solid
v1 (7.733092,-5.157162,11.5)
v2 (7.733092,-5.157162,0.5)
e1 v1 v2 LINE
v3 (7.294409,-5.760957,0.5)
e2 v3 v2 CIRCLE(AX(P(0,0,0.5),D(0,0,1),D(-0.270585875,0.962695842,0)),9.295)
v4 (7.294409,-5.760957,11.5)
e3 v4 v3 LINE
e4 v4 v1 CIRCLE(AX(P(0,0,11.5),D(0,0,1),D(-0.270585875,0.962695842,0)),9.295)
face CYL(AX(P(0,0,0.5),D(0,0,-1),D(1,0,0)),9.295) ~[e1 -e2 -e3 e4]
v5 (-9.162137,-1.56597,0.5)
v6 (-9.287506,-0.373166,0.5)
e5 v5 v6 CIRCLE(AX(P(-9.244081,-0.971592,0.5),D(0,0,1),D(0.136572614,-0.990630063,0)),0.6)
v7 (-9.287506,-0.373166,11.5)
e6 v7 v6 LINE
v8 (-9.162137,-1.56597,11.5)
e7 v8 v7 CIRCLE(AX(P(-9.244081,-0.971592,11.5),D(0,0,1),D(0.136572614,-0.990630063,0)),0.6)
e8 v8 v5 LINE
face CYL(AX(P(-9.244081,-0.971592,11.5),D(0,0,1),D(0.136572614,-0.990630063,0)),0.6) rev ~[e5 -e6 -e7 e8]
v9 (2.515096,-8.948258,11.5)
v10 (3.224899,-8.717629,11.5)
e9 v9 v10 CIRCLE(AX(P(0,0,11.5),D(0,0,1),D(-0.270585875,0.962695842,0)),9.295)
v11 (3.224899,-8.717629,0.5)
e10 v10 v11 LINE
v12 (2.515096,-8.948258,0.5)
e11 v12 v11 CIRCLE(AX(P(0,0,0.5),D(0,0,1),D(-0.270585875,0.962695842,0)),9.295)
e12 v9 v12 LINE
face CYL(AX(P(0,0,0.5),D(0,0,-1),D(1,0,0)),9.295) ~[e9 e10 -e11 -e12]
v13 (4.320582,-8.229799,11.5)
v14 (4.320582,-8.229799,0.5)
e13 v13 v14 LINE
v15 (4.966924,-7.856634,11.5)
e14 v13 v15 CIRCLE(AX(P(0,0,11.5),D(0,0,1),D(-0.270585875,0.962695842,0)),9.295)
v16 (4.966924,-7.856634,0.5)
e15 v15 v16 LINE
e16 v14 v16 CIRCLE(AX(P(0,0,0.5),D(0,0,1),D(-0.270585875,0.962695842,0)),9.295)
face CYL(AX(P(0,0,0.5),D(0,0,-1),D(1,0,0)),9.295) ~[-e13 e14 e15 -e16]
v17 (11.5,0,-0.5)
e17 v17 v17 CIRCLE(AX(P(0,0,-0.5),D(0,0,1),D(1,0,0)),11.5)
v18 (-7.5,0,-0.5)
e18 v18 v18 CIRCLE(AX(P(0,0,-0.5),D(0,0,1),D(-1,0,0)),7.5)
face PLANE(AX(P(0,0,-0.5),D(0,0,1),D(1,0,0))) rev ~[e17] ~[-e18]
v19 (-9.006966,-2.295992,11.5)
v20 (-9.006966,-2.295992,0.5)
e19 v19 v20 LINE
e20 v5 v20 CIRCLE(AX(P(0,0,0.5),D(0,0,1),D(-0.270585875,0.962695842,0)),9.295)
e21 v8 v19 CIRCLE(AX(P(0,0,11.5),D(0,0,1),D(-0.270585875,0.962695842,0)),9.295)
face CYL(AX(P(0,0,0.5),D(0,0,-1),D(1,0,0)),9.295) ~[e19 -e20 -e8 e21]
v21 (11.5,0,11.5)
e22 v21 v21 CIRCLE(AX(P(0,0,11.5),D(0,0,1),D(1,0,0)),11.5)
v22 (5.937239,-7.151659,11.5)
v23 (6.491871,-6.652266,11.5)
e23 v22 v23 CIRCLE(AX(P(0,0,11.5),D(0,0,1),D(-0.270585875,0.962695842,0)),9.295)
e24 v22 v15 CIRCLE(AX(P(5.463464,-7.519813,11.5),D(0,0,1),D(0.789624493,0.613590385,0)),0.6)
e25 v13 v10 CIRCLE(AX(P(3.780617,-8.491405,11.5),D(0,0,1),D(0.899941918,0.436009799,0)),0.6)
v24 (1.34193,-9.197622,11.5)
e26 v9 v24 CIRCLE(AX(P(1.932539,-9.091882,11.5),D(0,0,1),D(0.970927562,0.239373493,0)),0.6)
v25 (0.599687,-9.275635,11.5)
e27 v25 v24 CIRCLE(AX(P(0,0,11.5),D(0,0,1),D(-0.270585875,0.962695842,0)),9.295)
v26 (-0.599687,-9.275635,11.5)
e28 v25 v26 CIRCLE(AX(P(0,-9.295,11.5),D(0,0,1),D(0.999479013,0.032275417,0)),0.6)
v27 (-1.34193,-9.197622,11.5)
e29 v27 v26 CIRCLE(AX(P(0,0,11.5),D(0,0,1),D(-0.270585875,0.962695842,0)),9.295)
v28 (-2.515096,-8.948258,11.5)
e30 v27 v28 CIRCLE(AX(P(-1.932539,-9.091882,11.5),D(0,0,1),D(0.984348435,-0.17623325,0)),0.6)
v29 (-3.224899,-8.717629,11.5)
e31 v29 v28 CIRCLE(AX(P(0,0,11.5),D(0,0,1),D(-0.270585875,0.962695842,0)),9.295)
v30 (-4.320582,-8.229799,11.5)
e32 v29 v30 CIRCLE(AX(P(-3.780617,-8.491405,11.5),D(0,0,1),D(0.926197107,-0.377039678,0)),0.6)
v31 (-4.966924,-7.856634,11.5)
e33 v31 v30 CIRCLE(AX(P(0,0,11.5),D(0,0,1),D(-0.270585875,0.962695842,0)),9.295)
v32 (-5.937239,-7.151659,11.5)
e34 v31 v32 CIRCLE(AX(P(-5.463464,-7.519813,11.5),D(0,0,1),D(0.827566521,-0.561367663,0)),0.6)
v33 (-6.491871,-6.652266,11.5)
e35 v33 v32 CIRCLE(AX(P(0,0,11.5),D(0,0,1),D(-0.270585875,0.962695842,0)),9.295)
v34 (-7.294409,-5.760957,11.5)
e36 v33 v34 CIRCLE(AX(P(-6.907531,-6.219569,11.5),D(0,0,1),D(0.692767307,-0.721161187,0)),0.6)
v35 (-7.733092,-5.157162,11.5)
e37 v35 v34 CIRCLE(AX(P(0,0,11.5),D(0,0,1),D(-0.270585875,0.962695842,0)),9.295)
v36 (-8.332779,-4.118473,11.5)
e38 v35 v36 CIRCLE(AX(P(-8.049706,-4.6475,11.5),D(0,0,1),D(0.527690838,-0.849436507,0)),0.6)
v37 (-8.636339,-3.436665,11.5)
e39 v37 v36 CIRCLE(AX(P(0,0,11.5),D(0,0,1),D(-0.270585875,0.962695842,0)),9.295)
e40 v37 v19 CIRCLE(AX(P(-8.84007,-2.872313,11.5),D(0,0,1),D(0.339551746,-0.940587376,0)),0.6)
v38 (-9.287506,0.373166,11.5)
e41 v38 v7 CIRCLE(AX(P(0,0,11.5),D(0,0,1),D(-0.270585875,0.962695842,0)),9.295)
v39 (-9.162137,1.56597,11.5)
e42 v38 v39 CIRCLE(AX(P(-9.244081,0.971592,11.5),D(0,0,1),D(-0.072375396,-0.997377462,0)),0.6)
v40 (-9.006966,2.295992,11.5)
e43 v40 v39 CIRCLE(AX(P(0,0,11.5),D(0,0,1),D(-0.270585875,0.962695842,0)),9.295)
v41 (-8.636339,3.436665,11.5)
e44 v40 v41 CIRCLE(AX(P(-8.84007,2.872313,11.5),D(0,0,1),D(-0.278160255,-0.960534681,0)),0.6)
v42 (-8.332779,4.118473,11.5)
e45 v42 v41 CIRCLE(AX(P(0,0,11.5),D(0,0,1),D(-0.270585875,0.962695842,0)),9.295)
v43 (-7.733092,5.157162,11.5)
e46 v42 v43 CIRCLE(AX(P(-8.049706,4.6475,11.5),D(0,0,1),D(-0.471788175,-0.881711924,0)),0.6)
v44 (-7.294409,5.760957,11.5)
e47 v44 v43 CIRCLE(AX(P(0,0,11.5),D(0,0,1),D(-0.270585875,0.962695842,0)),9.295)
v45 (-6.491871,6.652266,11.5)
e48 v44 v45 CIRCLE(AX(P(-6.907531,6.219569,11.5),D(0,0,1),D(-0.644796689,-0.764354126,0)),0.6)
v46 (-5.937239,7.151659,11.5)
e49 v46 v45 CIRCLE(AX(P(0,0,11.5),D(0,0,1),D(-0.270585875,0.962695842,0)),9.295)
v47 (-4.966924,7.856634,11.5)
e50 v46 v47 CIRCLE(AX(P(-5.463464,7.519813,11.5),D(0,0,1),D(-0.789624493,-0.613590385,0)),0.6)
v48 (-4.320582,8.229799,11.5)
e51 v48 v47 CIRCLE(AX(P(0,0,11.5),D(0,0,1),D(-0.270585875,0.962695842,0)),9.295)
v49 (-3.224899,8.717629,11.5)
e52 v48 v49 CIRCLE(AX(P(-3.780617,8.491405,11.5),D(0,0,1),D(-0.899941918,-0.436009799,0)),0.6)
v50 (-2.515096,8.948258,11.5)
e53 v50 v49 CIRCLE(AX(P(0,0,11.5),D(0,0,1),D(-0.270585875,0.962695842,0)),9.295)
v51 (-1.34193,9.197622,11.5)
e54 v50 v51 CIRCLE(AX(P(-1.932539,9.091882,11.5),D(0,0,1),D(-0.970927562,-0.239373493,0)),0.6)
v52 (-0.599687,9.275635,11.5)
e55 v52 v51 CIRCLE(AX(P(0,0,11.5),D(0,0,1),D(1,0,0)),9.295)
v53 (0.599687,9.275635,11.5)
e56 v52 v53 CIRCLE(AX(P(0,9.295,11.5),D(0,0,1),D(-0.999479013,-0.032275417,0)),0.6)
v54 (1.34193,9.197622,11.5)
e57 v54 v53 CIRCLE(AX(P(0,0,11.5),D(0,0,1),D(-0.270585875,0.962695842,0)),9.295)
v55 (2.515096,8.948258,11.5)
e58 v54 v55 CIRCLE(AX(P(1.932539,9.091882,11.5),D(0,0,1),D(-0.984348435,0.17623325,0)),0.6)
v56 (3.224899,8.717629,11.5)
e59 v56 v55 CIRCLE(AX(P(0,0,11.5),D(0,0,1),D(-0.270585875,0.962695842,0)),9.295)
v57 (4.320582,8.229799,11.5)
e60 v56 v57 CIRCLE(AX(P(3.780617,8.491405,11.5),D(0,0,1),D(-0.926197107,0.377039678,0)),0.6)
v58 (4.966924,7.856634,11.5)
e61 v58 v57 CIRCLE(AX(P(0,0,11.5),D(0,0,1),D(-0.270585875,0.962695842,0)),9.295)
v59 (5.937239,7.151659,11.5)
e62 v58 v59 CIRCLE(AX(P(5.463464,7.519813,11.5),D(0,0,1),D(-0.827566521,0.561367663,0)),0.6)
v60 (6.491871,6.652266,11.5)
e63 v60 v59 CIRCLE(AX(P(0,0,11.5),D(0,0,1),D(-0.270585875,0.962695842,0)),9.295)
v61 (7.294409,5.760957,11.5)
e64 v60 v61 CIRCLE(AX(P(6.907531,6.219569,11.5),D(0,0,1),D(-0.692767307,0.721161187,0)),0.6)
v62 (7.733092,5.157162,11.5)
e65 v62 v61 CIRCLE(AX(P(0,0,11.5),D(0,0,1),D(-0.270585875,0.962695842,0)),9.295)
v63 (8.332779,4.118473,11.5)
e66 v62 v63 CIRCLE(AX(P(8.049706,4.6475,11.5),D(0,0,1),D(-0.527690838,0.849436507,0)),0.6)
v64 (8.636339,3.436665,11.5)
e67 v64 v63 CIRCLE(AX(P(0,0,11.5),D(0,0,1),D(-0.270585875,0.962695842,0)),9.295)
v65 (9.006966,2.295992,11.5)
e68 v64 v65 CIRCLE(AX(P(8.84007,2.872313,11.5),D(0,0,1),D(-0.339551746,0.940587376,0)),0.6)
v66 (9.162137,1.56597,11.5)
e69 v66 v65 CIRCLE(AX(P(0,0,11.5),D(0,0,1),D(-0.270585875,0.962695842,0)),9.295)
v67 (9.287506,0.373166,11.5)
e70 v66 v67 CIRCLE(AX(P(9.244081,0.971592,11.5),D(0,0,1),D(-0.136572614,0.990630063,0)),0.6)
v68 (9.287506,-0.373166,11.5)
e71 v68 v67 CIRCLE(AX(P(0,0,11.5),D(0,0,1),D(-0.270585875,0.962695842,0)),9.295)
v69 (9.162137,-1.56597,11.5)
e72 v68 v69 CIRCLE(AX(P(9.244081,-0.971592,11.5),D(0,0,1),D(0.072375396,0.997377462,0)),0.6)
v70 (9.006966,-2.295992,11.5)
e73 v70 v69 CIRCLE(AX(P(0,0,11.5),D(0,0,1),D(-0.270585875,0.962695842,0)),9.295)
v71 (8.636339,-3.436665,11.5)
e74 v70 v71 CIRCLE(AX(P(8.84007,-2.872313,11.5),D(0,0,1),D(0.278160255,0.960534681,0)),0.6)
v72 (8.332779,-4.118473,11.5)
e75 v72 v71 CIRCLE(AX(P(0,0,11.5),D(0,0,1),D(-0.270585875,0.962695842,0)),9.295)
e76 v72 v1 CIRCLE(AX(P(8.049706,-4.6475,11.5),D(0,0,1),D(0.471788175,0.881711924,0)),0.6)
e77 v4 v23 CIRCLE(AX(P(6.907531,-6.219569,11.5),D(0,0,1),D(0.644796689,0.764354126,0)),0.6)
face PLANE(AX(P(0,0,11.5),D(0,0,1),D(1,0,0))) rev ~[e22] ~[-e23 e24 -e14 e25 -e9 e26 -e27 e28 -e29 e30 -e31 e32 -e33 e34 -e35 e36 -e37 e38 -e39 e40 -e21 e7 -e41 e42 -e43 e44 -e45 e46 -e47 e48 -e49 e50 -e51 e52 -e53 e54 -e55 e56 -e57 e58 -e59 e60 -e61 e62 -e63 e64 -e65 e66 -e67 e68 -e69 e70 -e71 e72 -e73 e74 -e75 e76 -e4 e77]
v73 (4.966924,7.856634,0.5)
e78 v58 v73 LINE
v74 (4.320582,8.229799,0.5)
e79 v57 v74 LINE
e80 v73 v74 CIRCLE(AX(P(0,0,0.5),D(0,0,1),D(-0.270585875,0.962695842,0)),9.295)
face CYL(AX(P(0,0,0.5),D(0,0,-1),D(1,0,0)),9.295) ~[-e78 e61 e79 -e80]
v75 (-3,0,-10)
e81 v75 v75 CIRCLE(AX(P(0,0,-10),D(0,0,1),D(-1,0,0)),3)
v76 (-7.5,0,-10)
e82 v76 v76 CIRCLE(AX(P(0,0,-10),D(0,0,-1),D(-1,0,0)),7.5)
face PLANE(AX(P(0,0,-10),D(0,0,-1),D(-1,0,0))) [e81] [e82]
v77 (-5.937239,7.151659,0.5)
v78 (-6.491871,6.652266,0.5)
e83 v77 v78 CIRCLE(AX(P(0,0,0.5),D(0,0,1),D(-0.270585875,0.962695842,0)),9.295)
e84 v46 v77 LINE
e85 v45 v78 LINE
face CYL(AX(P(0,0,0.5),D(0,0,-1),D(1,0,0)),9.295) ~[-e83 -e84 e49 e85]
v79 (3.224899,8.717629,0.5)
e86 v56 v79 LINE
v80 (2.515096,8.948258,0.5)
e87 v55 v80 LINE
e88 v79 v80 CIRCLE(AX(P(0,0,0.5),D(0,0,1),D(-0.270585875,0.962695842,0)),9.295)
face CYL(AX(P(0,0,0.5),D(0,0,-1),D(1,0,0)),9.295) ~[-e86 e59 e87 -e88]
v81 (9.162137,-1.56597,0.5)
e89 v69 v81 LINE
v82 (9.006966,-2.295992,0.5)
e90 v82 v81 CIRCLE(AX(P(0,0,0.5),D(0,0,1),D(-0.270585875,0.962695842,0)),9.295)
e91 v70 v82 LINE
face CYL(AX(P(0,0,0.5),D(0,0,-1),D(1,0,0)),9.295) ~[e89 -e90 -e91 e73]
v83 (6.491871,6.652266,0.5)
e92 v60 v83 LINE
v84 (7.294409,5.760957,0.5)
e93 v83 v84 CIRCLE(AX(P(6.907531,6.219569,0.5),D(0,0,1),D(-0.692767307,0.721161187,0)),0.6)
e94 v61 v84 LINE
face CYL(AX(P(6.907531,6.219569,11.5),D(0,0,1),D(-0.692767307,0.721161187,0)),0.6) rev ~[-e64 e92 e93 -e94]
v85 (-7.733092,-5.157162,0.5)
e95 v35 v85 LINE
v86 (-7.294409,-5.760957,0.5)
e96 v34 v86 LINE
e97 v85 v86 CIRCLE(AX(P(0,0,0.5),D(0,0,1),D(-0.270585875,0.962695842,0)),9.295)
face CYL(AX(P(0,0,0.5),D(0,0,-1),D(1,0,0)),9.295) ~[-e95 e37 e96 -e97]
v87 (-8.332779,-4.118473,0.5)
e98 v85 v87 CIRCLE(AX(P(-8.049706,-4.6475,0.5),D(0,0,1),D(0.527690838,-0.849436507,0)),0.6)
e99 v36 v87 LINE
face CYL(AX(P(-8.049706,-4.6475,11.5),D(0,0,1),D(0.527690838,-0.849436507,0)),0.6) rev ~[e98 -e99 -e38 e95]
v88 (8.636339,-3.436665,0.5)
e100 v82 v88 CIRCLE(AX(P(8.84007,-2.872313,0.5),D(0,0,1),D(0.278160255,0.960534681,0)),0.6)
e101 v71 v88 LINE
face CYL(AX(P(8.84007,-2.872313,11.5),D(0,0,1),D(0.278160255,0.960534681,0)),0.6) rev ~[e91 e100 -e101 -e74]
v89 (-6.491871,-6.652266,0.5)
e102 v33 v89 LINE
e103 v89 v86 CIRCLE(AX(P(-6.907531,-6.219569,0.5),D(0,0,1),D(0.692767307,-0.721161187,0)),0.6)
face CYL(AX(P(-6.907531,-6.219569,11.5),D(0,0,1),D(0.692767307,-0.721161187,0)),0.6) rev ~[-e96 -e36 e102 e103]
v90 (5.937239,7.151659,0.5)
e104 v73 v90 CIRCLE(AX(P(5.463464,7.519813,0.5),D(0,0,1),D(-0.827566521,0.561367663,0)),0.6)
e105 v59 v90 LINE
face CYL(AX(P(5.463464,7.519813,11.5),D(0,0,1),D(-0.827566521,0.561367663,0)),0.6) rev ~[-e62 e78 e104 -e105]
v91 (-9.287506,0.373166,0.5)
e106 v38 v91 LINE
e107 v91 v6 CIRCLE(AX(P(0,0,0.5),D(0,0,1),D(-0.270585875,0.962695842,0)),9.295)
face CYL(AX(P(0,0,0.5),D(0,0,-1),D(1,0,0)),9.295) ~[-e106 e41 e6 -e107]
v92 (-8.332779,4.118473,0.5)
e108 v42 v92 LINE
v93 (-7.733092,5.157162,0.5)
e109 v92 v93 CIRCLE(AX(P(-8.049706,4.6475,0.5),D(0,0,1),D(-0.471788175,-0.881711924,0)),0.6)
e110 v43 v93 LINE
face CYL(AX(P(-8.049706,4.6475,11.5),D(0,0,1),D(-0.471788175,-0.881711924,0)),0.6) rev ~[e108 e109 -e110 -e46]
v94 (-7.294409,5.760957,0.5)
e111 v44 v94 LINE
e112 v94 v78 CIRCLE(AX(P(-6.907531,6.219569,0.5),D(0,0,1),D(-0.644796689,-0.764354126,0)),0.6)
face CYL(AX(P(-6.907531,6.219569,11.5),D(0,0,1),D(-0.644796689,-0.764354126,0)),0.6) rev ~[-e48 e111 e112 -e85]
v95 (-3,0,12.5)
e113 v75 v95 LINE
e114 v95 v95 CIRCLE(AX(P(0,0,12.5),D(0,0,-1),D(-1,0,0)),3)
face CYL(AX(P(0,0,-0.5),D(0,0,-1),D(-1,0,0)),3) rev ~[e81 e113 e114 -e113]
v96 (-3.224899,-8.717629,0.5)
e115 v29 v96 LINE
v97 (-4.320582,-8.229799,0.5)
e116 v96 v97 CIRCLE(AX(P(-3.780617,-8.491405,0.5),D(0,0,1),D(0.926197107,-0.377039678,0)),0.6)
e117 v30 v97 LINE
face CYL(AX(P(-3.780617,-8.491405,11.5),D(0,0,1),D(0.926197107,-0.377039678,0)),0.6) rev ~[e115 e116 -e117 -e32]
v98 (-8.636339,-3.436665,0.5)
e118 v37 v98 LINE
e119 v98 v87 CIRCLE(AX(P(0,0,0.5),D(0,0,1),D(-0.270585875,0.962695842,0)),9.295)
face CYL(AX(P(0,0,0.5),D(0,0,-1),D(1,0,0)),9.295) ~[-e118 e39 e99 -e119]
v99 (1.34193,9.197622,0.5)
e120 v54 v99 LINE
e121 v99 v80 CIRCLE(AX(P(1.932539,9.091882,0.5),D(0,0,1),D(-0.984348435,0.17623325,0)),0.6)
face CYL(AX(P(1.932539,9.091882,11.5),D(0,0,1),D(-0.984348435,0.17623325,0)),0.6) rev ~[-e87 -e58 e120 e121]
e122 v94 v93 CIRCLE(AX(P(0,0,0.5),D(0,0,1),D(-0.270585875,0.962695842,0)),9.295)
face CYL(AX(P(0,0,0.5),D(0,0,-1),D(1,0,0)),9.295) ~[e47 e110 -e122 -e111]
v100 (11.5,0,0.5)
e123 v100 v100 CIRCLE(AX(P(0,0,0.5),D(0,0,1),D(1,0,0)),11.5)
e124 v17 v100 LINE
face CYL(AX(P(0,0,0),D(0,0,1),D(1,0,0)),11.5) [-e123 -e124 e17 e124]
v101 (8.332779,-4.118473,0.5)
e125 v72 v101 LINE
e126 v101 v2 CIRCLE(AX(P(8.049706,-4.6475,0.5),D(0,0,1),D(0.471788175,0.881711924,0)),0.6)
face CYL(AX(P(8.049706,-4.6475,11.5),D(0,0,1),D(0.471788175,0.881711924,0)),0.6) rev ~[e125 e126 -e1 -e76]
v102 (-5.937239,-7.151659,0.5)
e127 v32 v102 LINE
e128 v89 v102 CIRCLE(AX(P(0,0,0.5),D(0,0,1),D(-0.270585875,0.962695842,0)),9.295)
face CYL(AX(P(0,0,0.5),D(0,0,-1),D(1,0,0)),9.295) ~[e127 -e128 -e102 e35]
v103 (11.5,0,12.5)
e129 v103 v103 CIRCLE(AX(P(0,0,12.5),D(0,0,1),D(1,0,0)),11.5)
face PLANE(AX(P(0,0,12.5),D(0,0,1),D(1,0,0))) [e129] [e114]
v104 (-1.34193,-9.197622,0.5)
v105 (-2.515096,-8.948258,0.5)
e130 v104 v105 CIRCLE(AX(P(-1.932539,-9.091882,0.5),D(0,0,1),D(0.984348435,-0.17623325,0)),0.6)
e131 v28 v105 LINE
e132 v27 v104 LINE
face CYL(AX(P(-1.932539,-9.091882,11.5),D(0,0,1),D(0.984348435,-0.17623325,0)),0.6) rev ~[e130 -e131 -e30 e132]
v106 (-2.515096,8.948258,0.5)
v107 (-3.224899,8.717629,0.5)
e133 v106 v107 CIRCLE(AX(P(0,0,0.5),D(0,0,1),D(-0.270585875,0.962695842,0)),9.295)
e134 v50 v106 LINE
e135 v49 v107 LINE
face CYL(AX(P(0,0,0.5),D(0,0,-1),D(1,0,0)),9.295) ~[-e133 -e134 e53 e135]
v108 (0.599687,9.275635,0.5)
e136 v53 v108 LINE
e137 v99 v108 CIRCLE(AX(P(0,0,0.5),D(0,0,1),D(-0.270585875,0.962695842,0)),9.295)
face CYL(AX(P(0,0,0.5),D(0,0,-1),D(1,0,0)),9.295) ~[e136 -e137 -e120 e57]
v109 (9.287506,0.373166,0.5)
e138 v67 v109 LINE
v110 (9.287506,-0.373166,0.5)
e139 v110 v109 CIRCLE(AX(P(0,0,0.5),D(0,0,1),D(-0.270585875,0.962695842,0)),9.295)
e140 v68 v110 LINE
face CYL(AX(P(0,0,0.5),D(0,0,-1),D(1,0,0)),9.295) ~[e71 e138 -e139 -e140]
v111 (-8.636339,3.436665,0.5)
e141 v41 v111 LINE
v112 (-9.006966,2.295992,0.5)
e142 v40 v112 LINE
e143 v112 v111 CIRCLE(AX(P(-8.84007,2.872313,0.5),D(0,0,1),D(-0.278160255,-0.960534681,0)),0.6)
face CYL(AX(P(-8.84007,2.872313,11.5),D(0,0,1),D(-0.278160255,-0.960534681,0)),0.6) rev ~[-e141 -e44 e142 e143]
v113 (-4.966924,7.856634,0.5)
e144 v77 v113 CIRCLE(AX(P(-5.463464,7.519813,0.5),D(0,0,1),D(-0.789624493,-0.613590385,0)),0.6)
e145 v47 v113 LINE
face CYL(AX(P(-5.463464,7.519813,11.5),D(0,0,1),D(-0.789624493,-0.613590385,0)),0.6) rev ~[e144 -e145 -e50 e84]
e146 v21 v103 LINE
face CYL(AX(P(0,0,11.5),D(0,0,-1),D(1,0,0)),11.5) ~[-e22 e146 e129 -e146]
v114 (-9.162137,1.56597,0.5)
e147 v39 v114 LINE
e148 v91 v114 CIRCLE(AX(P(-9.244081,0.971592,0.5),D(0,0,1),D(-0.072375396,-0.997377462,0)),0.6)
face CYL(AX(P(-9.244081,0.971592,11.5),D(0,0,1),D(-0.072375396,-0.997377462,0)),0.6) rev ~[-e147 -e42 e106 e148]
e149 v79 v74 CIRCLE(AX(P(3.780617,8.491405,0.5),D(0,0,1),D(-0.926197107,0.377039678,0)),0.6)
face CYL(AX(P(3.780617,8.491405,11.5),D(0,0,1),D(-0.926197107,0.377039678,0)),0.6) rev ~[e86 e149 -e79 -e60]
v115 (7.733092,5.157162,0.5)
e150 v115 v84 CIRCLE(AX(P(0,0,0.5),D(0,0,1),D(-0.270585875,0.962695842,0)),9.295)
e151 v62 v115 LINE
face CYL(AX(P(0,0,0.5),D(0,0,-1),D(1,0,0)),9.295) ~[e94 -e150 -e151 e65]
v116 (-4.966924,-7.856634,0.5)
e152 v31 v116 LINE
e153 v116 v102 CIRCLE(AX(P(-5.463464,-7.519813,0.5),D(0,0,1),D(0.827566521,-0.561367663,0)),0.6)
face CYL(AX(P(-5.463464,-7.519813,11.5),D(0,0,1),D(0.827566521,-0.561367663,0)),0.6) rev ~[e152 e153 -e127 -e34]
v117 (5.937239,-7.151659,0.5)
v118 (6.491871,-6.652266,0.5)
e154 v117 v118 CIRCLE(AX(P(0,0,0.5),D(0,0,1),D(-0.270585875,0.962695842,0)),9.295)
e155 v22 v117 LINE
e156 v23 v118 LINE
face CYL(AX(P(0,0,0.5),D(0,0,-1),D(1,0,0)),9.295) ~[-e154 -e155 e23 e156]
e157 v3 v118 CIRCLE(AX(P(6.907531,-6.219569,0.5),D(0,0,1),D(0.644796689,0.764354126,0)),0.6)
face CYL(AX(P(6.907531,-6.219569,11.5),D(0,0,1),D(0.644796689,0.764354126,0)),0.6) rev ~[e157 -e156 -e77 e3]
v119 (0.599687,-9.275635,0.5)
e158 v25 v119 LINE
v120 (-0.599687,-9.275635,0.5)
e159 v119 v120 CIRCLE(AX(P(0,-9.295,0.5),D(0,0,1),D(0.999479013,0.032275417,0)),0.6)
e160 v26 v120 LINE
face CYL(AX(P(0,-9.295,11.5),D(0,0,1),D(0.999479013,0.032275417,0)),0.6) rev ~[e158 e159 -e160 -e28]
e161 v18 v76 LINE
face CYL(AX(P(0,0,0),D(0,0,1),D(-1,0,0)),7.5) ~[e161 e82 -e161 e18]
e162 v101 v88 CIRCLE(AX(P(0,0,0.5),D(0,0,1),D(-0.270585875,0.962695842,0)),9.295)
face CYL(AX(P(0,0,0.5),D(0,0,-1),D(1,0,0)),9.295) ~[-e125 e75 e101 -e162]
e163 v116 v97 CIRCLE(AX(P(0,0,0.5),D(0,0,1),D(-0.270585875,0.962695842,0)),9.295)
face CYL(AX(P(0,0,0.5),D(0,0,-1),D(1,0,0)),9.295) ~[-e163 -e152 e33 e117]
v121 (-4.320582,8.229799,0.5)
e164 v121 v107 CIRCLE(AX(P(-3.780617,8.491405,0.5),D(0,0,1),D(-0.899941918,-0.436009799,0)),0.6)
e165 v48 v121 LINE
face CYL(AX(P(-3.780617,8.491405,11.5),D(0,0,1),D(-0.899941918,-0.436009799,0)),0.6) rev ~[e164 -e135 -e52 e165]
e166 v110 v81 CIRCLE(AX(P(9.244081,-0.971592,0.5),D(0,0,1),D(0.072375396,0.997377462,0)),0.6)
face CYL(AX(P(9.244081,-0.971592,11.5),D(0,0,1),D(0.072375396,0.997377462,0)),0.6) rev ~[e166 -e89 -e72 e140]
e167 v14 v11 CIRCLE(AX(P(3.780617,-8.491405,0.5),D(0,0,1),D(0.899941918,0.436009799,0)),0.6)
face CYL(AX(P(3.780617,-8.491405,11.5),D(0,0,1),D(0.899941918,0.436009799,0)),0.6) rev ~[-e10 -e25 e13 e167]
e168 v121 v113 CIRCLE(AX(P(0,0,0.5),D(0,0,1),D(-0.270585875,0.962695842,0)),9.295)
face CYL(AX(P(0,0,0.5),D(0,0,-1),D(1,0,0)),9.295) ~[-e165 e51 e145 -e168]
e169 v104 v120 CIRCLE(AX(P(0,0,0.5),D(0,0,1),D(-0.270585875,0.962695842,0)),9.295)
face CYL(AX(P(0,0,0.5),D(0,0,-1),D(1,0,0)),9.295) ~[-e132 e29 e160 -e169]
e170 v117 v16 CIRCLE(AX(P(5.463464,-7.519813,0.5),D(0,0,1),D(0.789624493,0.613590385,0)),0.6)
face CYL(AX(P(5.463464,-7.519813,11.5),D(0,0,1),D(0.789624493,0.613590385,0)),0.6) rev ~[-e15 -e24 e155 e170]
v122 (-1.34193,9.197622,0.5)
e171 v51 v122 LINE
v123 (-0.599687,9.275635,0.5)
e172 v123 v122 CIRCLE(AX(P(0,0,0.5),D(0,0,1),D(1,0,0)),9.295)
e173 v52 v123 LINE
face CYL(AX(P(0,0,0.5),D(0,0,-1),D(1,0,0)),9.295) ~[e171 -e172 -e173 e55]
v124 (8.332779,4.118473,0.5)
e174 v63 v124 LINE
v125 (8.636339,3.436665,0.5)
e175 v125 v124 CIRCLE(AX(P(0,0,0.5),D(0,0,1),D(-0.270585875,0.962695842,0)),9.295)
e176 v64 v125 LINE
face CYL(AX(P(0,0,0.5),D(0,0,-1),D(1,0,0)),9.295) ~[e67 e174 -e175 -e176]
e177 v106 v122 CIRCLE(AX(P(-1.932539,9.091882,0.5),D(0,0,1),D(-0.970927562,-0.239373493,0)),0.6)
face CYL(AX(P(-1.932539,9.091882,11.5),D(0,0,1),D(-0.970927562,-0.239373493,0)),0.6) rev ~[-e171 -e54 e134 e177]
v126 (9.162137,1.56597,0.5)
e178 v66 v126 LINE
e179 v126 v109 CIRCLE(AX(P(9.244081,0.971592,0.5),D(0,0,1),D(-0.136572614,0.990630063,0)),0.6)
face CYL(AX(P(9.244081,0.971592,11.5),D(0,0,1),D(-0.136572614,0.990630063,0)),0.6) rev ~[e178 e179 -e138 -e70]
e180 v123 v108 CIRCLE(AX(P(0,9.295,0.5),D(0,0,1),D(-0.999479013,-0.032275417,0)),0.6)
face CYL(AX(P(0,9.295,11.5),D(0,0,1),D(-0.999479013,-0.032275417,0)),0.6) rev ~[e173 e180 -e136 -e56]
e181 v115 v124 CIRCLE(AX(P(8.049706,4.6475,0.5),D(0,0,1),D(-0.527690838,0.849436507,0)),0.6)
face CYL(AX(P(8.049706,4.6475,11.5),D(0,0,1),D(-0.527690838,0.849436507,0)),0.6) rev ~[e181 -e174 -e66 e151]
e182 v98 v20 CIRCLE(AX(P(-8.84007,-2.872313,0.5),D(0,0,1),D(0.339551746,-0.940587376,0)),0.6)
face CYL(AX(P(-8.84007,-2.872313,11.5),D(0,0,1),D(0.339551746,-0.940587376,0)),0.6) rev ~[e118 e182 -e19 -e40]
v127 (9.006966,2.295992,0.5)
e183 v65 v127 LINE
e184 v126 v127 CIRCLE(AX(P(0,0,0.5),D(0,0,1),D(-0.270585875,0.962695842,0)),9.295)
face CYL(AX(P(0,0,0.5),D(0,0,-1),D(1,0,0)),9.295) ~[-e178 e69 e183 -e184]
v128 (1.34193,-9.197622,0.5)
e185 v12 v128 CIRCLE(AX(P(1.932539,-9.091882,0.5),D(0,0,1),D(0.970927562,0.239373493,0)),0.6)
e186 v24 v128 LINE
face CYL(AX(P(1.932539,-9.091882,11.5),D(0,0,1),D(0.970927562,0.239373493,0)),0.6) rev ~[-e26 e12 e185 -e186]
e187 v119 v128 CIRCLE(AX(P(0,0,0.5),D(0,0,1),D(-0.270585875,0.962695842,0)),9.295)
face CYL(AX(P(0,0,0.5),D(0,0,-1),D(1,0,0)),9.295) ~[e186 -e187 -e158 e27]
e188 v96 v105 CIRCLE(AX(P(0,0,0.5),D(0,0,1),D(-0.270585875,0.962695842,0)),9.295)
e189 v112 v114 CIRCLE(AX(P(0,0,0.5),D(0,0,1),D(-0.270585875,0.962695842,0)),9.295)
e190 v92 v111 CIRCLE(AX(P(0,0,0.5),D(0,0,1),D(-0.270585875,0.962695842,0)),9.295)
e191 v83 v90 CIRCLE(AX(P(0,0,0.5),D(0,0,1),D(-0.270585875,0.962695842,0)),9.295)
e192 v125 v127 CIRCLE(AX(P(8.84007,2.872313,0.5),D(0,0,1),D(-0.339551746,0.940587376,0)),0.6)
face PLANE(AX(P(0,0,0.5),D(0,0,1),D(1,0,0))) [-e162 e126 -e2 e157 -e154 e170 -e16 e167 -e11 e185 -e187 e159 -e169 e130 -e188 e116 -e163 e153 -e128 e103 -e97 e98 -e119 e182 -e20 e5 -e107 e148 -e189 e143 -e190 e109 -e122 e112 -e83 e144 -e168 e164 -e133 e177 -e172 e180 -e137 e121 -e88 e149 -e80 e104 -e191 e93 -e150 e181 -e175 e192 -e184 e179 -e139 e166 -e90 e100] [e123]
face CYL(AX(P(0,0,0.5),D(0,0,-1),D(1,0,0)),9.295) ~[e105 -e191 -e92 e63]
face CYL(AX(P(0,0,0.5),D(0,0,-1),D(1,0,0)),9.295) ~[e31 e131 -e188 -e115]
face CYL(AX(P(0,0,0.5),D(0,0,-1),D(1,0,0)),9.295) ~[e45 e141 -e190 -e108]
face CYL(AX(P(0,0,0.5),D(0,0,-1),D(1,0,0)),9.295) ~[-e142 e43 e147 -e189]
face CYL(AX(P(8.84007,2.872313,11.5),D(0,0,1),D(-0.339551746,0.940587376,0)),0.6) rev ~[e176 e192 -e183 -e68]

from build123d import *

# Parameters (mm, degrees)
SKETCH_1_R               = 11.5
EXTRUDE_1_DEPTH          = 0.5
SKETCH_2_R               = 9.295
EXTRUDE_2_DEPTH          = 11
SKETCH_8_R               = 7.5
EXTRUDE_4_DEPTH          = 10
CUT_EXTRUDE_3_DEPTH      = 11
SKETCH_3_R               = 11.5
EXTRUDE_3_DEPTH          = 1
SKETCH_6_R               = 3
CUT_EXTRUDE_2_DEPTH      = 10.5
CUT_EXTRUDE_2_DEPTH_BACK = 14
PATTERN_CIRCULAR_2_COUNT = 30


with BuildPart() as part:
    # 草圖1 → 填料-伸長1 (new body, symmetric)
    with BuildSketch(Plane.XY):
        Circle(SKETCH_1_R)
    extrude(amount=EXTRUDE_1_DEPTH, both=True)

    # 草圖2 → 填料-伸長2 (add)
    with BuildSketch(Plane.XY.offset(0.5)):
        Circle(SKETCH_2_R)
    extrude(amount=EXTRUDE_2_DEPTH)

    # 草圖8 → 填料-伸長4 (add)
    with BuildSketch(Plane(origin=(0, 0, 0), x_dir=(-1, 0, 0), z_dir=(0, 0, -1))):
        Circle(SKETCH_8_R)
    extrude(amount=EXTRUDE_4_DEPTH)

    # 草圖7 → 除料-伸長3 (cut)
    with BuildSketch(Plane.XY.offset(11.5)):
        with BuildLine():
            ThreePointArc((-0.599687408, 9.27563475), (0, 8.695), (0.599687408, 9.27563475))
            ThreePointArc((0.599687408, 9.27563475), (0, 9.295), (-0.599687408, 9.27563475))
        make_face()
    cut_extrude_3 = extrude(amount=-CUT_EXTRUDE_3_DEPTH, mode=Mode.SUBTRACT)

    # 草圖3 → 填料-伸長3 (add)
    with BuildSketch(Plane.XY.offset(11.5)):
        Circle(SKETCH_3_R)
    extrude(amount=EXTRUDE_3_DEPTH)

    # 草圖6 → 除料-伸長2 (cut, two sides)
    with BuildSketch(Plane(origin=(0, 0, -0.5), x_dir=(-1, 0, 0), z_dir=(0, 0, -1))) as cut_extrude_2_sk:
        Circle(SKETCH_6_R)
    extrude(amount=CUT_EXTRUDE_2_DEPTH, mode=Mode.SUBTRACT)
    extrude(cut_extrude_2_sk.sketch, amount=-CUT_EXTRUDE_2_DEPTH_BACK, mode=Mode.SUBTRACT)

    # 環狀複製排列2: 除料-伸長3 ×30 about axis
    pattern_circular_2_axis = Axis((0, 0, 0), (0, 0, 1))
    for i in range(1, PATTERN_CIRCULAR_2_COUNT):
        add(cut_extrude_3.rotate(pattern_circular_2_axis, i * 360 / PATTERN_CIRCULAR_2_COUNT), mode=Mode.SUBTRACT)


solid = part.part
